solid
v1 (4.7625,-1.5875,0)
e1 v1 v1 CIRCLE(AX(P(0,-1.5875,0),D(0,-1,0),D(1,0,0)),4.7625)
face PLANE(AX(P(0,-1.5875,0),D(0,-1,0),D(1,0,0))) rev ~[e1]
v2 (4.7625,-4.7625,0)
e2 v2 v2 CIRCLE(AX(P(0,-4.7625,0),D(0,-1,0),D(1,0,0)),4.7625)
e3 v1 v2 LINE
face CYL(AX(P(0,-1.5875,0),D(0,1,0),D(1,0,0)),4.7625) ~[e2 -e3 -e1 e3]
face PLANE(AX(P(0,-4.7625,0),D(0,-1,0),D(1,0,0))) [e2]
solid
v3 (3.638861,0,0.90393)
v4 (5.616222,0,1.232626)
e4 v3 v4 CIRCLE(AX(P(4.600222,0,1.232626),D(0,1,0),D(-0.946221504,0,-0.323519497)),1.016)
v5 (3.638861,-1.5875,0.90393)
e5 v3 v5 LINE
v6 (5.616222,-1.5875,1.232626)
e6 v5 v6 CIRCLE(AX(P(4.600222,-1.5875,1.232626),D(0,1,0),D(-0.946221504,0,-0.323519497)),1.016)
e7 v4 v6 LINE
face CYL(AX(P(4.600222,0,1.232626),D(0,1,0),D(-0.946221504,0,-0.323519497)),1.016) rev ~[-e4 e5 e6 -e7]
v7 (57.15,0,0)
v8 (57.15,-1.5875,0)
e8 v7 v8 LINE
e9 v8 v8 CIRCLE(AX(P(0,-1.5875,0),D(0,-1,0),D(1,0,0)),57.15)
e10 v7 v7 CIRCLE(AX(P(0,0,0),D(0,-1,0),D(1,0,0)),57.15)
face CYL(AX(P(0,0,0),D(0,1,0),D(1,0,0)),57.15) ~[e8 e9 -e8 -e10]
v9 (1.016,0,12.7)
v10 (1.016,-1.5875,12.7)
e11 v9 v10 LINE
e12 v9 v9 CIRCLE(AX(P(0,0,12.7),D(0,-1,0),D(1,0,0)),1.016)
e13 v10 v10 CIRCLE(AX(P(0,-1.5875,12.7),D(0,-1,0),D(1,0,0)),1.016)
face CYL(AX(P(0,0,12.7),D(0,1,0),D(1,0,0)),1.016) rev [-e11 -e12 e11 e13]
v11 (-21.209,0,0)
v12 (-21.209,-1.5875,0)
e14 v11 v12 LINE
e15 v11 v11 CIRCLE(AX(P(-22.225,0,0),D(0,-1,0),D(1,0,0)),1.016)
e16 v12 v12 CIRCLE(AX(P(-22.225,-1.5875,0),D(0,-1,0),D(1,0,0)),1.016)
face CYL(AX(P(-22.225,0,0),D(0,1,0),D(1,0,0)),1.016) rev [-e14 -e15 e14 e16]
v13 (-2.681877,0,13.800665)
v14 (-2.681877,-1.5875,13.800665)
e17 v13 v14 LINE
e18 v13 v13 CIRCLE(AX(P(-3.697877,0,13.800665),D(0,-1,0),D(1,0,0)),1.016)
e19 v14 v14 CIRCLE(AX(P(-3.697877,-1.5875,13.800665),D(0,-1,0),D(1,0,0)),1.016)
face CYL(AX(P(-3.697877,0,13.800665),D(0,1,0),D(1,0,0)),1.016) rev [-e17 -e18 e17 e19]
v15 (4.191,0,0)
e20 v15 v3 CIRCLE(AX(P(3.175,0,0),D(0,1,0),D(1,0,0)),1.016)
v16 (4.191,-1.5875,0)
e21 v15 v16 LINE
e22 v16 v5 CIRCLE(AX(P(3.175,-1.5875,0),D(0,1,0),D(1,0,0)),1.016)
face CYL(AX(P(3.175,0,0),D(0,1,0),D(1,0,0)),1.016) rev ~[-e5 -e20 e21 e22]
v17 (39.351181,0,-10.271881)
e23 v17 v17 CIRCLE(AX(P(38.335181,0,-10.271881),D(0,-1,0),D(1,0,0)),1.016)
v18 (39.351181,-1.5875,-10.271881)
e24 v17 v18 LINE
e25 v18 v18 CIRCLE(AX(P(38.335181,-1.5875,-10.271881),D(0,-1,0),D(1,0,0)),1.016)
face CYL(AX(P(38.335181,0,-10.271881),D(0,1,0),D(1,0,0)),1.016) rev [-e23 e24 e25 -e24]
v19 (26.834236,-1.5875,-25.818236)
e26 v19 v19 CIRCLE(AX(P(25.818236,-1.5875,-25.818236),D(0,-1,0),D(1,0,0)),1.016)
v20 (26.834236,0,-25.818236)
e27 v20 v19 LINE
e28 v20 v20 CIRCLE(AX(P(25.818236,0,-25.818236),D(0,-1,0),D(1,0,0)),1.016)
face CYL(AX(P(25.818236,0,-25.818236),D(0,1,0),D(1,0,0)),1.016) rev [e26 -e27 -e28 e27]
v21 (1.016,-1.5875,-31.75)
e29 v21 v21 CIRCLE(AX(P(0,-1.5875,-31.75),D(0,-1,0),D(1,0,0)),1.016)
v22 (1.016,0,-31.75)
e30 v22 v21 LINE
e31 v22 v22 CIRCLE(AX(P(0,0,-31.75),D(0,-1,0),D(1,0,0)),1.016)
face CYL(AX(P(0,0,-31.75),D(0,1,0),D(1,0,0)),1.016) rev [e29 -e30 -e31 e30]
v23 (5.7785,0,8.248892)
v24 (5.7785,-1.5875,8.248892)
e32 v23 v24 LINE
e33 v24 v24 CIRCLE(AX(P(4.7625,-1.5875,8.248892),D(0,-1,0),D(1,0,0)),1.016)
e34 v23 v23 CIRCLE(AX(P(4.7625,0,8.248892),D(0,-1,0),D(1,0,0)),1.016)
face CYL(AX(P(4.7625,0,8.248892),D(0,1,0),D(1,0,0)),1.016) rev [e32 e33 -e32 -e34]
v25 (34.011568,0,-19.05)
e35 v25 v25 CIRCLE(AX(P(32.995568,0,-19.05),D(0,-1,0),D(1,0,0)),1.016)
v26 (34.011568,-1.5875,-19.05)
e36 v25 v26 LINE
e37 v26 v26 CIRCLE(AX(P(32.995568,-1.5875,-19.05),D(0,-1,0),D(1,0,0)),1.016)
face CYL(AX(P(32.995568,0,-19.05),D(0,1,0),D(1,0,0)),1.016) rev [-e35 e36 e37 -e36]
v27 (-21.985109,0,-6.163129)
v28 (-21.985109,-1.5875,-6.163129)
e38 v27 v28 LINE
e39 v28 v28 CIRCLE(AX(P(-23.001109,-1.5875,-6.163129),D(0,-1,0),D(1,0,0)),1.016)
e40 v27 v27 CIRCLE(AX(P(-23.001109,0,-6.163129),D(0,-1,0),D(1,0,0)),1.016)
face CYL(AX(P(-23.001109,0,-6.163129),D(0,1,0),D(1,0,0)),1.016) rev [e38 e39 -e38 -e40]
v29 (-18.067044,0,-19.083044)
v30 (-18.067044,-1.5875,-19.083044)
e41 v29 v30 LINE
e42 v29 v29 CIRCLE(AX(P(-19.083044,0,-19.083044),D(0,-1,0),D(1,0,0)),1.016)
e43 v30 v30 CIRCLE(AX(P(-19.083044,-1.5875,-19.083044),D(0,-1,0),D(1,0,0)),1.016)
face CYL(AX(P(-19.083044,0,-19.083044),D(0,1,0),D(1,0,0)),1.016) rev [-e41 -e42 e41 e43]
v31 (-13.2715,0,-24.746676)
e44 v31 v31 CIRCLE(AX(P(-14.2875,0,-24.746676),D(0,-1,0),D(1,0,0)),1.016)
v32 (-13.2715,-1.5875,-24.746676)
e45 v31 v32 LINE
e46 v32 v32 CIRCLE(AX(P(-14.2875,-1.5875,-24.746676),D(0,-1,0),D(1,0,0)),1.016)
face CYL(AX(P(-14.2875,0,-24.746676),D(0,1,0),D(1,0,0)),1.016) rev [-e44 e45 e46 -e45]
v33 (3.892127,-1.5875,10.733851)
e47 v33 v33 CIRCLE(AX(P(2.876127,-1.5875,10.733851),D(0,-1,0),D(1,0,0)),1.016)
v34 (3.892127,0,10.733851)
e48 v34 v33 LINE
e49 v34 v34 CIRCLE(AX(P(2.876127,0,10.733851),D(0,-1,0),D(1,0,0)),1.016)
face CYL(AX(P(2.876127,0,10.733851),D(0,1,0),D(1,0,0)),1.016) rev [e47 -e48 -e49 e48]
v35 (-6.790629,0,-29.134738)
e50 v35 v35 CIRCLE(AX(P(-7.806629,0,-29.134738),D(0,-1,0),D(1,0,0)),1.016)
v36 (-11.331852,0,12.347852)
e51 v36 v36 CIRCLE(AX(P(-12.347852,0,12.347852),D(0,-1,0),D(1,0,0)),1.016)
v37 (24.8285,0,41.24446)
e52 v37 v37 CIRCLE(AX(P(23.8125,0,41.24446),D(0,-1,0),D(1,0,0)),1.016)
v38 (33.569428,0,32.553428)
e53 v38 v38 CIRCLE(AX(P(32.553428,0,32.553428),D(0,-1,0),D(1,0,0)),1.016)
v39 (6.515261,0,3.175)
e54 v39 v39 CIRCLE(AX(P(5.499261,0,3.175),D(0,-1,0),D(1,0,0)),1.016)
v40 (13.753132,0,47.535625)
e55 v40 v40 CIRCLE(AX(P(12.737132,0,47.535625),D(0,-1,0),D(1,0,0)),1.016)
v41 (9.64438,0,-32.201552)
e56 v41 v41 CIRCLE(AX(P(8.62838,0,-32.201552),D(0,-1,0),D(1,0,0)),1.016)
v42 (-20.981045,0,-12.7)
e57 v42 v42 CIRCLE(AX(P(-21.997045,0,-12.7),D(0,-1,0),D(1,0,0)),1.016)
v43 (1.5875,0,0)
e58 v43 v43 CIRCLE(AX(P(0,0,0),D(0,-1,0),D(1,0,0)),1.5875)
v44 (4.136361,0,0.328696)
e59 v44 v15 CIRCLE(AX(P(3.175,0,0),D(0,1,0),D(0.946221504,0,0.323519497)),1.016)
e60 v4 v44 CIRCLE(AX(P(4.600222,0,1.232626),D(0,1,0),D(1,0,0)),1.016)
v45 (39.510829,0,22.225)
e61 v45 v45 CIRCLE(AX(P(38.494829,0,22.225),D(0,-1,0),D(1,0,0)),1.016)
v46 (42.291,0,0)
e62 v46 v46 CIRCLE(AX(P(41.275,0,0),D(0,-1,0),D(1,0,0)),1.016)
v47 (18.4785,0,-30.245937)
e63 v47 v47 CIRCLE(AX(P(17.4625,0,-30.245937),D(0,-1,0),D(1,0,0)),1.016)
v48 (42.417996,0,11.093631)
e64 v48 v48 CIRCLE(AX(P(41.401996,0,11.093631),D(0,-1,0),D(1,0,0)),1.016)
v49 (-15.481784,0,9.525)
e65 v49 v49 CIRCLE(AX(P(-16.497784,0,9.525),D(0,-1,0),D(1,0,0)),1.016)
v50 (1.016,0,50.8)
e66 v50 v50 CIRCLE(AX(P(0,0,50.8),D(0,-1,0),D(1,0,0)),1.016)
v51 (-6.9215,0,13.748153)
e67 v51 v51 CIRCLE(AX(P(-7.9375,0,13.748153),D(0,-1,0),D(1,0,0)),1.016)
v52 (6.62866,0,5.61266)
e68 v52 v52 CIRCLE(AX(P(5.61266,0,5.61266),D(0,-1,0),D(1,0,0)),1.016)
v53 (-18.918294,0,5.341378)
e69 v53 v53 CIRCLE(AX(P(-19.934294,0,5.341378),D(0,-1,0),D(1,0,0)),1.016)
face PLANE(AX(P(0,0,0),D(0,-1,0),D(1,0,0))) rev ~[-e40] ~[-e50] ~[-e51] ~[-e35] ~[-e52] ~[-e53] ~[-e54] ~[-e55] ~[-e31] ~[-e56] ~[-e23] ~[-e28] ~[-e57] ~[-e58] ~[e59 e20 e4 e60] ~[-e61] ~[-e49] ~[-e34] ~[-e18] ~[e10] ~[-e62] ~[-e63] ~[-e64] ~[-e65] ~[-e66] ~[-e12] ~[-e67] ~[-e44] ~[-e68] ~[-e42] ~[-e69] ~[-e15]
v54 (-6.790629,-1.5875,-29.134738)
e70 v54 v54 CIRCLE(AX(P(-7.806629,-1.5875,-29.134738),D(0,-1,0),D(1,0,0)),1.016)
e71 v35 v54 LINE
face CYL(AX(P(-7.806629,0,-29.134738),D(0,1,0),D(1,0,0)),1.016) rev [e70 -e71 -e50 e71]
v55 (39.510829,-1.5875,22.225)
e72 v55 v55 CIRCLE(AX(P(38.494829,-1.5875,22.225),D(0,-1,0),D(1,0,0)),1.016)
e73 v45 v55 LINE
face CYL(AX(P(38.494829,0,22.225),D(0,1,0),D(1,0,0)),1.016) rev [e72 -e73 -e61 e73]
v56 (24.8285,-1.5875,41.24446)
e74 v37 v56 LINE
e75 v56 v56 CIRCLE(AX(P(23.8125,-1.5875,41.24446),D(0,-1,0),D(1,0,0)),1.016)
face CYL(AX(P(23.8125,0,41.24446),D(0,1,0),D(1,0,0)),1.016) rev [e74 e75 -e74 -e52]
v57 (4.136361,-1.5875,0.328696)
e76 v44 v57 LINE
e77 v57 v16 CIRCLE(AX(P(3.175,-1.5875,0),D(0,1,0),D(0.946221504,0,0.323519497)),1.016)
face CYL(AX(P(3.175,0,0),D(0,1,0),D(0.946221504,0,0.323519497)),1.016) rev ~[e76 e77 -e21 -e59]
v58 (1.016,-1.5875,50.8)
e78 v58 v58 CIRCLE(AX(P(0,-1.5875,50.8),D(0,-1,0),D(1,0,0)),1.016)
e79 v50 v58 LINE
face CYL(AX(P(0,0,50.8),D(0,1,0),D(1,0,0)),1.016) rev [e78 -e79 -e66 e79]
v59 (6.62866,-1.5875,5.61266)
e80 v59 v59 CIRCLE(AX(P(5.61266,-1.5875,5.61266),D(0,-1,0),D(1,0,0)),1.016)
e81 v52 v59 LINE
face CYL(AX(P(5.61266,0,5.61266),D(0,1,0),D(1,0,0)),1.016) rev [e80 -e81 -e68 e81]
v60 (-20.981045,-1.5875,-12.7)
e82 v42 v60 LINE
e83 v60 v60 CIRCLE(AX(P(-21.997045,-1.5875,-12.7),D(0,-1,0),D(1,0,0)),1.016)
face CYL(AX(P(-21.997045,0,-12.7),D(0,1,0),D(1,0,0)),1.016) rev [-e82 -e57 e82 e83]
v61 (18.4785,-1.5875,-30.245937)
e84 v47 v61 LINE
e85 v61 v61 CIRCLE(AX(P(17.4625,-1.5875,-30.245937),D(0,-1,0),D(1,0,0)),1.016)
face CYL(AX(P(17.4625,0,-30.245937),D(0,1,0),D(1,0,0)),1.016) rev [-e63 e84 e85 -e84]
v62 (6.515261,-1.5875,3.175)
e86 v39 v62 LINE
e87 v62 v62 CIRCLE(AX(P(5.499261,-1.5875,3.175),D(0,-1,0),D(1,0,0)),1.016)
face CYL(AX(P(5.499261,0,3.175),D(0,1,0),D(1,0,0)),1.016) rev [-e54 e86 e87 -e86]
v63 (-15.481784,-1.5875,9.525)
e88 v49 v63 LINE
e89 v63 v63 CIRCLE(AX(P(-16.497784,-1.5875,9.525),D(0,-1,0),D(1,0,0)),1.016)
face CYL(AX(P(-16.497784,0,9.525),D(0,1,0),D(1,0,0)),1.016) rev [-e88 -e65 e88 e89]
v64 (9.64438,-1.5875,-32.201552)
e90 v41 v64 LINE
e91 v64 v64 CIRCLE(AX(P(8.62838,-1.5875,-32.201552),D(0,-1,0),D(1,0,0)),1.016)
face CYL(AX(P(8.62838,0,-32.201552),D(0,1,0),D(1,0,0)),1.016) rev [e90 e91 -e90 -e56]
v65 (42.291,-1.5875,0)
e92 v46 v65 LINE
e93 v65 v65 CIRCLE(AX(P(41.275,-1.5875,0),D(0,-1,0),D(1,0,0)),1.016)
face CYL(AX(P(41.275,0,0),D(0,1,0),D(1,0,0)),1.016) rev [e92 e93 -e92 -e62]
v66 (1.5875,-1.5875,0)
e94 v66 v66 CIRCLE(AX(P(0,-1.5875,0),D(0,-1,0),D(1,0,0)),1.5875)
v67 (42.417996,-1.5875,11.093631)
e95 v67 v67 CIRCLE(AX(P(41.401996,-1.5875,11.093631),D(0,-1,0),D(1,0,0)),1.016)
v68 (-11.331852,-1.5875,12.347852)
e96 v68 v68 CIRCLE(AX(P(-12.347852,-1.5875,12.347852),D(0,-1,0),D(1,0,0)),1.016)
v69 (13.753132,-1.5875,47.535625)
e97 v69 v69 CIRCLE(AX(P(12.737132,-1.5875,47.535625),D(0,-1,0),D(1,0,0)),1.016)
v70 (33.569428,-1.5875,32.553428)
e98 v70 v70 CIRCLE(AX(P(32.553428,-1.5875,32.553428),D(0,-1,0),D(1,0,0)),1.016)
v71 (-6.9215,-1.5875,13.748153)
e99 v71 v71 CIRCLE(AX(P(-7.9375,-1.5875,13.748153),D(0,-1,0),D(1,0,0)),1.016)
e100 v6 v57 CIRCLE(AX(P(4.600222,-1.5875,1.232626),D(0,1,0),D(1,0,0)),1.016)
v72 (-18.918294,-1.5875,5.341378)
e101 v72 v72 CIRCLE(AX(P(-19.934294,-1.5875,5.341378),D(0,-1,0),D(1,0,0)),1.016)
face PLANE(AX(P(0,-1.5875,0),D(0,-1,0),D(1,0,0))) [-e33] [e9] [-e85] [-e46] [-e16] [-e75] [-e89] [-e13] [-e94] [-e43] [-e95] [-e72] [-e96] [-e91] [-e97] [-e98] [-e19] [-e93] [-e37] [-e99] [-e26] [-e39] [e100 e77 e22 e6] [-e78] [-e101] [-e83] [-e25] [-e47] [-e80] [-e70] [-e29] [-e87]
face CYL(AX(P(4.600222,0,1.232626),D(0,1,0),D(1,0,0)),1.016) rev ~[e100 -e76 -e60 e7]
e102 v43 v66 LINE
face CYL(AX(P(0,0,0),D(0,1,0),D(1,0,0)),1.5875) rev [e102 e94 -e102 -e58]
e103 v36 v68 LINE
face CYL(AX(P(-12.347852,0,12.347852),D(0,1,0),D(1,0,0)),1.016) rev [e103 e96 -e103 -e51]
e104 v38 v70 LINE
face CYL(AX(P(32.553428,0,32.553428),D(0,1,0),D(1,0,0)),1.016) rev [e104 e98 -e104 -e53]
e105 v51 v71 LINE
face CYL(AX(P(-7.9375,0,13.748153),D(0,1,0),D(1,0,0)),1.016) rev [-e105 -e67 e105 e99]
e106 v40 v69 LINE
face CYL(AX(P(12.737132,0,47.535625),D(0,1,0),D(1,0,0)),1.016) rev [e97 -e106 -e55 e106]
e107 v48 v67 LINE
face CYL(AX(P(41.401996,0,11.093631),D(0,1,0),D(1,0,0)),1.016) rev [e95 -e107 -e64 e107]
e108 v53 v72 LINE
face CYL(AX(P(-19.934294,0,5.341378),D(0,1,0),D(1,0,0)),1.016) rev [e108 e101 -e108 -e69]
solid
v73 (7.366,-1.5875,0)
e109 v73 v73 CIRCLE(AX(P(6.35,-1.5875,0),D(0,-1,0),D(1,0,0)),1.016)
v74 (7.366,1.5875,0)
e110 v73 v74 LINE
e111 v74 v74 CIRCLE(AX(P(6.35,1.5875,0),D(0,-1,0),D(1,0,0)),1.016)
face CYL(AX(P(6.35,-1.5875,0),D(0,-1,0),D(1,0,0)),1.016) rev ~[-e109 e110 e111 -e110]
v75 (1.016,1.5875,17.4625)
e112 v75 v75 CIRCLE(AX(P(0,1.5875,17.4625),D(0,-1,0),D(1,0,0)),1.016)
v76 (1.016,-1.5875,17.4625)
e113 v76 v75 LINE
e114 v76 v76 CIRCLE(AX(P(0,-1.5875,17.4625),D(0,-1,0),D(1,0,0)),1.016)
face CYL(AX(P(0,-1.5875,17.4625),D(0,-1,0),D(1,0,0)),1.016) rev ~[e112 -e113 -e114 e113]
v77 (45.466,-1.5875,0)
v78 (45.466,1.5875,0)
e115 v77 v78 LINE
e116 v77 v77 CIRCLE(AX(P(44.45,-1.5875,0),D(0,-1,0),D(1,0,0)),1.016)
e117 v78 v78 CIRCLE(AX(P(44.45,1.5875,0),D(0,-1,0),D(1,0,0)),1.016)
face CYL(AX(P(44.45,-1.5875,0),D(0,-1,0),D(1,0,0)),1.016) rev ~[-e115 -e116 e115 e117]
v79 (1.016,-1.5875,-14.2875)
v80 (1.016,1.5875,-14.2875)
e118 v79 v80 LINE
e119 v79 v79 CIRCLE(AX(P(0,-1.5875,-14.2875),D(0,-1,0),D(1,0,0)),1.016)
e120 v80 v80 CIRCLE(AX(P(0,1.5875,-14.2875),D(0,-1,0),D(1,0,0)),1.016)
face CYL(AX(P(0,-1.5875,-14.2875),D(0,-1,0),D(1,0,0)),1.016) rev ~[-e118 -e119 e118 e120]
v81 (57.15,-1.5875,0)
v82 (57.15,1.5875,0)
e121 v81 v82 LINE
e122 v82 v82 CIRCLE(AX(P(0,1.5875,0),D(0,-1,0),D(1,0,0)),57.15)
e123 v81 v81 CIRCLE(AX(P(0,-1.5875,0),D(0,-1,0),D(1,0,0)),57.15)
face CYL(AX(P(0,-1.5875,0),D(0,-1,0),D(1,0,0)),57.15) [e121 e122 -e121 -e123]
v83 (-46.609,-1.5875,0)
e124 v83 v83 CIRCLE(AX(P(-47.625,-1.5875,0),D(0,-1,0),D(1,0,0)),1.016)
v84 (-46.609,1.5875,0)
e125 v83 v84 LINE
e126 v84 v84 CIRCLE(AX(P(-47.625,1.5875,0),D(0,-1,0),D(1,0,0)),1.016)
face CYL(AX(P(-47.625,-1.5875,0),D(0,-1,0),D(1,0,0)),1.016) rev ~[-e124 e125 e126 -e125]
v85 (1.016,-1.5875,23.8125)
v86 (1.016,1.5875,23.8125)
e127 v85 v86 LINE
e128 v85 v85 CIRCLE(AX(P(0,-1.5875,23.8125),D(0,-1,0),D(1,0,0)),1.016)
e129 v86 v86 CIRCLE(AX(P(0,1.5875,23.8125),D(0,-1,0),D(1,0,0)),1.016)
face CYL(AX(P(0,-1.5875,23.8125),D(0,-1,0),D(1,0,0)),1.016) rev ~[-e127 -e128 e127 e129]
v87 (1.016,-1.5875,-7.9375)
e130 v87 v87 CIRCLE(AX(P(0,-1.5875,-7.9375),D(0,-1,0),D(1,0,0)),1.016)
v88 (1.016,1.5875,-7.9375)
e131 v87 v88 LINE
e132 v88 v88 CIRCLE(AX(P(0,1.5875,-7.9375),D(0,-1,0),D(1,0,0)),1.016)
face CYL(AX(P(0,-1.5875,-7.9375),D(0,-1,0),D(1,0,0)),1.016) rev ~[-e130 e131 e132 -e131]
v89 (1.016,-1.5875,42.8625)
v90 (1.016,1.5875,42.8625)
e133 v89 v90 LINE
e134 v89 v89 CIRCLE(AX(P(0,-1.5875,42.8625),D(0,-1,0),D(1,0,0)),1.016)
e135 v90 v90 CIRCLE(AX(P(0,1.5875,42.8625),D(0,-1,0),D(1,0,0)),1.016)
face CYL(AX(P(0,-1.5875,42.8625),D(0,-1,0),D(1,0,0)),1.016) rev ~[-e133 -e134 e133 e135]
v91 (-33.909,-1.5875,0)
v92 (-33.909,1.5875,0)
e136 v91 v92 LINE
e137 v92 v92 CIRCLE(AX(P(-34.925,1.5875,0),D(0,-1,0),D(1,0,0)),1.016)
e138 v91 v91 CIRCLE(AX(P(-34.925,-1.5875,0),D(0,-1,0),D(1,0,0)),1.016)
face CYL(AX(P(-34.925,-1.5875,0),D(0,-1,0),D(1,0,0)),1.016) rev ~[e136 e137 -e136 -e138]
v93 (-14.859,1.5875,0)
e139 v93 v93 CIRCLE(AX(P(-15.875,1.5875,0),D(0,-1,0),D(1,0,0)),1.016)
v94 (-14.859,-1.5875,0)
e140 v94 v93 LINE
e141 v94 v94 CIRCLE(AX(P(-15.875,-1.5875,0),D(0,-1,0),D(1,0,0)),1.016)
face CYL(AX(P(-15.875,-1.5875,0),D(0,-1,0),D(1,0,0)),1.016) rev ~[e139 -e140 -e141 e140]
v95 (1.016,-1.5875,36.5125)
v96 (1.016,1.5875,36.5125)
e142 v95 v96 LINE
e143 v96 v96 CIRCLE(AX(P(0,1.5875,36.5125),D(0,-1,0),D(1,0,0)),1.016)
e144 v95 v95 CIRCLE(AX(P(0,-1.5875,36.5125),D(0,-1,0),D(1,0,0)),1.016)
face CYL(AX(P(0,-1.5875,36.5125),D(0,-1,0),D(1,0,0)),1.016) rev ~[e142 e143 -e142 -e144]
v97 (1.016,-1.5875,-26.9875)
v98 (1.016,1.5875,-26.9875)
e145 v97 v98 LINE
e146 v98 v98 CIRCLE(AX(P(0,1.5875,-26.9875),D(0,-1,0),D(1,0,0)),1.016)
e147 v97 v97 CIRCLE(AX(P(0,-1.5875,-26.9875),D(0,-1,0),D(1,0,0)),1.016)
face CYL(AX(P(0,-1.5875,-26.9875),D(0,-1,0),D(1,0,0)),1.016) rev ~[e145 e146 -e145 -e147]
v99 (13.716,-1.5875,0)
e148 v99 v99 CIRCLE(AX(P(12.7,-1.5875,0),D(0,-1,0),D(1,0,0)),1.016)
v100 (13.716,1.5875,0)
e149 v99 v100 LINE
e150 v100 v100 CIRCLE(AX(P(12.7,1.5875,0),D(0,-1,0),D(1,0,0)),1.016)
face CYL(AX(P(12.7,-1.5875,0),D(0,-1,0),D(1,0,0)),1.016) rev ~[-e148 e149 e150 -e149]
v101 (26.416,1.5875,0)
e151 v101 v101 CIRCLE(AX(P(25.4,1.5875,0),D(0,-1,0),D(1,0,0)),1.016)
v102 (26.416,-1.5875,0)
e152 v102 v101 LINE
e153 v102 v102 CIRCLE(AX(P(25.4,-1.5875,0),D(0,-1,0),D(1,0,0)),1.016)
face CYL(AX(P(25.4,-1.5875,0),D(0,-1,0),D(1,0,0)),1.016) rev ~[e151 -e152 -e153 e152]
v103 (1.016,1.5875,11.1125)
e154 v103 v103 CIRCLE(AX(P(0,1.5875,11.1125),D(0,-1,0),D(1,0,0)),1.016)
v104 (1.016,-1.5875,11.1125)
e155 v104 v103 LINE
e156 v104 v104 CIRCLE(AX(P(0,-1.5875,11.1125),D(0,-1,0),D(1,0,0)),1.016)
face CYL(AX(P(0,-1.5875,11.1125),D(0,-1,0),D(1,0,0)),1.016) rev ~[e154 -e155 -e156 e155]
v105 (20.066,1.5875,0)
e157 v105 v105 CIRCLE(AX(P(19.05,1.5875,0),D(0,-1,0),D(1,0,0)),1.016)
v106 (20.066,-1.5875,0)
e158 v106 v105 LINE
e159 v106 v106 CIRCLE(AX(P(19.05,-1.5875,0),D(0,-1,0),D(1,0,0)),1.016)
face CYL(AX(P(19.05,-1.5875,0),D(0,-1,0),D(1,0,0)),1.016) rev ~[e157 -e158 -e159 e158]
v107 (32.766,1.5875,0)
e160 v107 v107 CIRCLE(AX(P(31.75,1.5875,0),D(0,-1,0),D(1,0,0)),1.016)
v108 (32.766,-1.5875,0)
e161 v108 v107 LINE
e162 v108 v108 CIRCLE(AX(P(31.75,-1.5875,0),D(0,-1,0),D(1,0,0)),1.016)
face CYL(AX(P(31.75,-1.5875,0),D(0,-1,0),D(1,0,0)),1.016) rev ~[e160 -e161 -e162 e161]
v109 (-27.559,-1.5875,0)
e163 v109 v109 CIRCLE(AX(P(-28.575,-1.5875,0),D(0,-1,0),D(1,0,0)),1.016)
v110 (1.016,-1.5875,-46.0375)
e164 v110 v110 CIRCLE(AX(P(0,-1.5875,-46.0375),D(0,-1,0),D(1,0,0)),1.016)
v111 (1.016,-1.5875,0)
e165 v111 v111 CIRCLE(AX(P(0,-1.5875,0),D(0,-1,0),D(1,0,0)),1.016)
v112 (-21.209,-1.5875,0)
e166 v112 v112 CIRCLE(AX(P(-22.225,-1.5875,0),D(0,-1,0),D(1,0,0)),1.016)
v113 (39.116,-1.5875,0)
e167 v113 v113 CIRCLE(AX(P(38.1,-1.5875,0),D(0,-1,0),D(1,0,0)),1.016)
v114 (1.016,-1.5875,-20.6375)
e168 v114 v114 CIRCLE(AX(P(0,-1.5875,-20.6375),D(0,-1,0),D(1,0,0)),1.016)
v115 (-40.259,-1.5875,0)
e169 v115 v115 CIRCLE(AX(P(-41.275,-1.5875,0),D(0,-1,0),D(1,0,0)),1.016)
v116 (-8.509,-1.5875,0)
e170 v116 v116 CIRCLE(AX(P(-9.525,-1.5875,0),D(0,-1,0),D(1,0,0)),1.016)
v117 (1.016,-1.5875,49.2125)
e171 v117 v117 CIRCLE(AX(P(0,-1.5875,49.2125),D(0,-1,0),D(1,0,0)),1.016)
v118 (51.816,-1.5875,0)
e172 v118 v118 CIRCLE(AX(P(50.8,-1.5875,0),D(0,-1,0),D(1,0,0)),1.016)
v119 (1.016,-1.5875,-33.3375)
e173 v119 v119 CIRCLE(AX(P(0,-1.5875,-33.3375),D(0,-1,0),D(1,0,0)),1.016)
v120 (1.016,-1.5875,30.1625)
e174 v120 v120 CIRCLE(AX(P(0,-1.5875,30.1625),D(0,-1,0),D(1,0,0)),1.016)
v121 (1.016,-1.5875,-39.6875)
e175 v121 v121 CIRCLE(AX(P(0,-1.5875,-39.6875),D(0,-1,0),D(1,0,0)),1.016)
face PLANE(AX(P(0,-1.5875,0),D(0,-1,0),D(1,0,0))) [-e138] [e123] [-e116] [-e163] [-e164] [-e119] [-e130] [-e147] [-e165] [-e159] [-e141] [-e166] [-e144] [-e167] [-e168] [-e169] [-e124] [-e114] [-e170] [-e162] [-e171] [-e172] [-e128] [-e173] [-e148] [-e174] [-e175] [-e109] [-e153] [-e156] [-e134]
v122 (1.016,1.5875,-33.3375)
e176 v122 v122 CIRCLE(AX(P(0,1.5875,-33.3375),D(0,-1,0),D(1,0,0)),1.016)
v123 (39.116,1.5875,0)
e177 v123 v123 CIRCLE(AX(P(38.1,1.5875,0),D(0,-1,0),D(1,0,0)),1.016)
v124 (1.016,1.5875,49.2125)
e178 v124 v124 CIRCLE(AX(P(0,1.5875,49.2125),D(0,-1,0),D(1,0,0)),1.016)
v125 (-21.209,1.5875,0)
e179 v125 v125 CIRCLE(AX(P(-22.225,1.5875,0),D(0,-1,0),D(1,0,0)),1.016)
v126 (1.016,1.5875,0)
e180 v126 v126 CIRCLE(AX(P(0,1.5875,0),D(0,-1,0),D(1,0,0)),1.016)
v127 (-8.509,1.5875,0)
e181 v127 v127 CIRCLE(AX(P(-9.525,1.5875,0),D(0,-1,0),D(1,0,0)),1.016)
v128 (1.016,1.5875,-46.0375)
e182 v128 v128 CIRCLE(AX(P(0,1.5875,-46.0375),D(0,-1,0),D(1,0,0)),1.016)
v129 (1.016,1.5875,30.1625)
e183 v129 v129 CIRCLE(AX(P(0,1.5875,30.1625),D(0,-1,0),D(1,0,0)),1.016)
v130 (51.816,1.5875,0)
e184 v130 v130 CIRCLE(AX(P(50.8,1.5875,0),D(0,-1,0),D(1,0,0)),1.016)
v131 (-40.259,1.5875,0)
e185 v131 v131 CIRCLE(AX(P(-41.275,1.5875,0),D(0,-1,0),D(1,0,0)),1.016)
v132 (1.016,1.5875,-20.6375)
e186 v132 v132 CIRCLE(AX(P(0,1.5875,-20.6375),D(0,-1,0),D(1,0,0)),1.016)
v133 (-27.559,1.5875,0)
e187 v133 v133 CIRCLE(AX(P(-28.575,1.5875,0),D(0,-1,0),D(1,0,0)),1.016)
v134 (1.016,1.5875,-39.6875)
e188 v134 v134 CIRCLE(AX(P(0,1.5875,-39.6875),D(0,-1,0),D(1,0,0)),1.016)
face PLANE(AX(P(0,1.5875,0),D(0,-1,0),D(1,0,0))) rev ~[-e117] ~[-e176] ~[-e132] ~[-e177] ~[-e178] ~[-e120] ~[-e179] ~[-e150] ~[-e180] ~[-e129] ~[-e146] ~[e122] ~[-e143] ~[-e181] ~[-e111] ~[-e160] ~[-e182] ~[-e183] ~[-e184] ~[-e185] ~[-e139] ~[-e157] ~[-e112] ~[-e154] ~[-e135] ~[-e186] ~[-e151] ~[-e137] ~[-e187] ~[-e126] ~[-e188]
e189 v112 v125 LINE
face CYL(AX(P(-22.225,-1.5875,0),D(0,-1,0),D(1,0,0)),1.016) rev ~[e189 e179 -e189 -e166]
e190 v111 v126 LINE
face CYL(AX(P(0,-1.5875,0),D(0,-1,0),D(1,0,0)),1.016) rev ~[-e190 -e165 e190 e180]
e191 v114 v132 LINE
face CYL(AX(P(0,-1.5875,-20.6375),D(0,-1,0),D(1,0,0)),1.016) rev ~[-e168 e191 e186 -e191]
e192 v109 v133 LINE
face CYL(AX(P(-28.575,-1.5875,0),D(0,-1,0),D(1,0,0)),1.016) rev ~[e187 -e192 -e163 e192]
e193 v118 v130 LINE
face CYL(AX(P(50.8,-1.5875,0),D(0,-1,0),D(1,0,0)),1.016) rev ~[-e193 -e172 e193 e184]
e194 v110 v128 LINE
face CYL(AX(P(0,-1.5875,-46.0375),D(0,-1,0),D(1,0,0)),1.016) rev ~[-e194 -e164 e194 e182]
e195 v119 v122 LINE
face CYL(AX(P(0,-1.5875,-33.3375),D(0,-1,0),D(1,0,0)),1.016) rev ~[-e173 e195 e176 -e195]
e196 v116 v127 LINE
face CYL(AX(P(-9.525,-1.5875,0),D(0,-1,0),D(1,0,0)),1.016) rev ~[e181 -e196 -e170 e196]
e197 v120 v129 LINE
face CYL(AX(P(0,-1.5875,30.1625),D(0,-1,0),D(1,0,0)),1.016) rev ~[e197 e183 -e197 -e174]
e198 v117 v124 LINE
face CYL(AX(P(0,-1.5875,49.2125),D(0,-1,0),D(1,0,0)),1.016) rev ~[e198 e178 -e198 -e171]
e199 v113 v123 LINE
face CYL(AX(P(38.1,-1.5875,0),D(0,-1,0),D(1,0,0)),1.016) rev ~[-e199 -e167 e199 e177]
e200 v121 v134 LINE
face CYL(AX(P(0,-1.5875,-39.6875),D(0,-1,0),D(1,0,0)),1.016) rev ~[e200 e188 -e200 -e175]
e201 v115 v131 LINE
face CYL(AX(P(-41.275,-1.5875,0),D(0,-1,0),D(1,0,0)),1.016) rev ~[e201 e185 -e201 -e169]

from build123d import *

# Parameters (mm, degrees)
F0_R      = 57.15
F0_R_2    = 1.016
F0_R_3    = 1.5875
F1_DEPTH  = 1.5875
F3_R      = 4.7625
F4_DEPTH  = 3.175
F5_R      = 57.15
F5_R_2    = 1.016
F6_DEPTH  = 3.175
F7_R      = 1.016
F8_DEPTH  = 3.176
F9_R      = 1.016
F10_DEPTH = 3.175
F11_R     = 1.016
F12_DEPTH = 3.176


with BuildPart() as f1:
    # F0 (on Front) → F1 (new body)
    with BuildSketch(Plane.XZ):
        Circle(F0_R)
        with Locations((-7.8066294479, -29.1347377354)):
            Circle(F0_R_2, mode=Mode.SUBTRACT)
        with Locations((-19.0830442573, -19.0830442573)):
            Circle(F0_R_2, mode=Mode.SUBTRACT)
        with Locations((-14.2875, -24.7466759131)):
            Circle(F0_R_2, mode=Mode.SUBTRACT)
        with Locations((-21.9970452561, -12.7)):
            Circle(F0_R_2, mode=Mode.SUBTRACT)
        with Locations((-23.0011087385, -6.1631285115)):
            Circle(F0_R_2, mode=Mode.SUBTRACT)
        with Locations((0, -31.75)):
            Circle(F0_R_2, mode=Mode.SUBTRACT)
        with Locations((8.6283799161, -32.2015522339)):
            Circle(F0_R_2, mode=Mode.SUBTRACT)
        with Locations((17.4625, -30.2459372272)):
            Circle(F0_R_2, mode=Mode.SUBTRACT)
        with Locations((25.8182363481, -25.8182363481)):
            Circle(F0_R_2, mode=Mode.SUBTRACT)
        with Locations((32.9955678842, -19.05)):
            Circle(F0_R_2, mode=Mode.SUBTRACT)
        with Locations((38.3351812308, -10.2718808525)):
            Circle(F0_R_2, mode=Mode.SUBTRACT)
        with Locations((-22.225, 0)):
            Circle(F0_R_2, mode=Mode.SUBTRACT)
        with Locations((-19.93429424, 5.3413780433)):
            Circle(F0_R_2, mode=Mode.SUBTRACT)
        with Locations((-16.4977839421, 9.525)):
            Circle(F0_R_2, mode=Mode.SUBTRACT)
        with Locations((-12.3478521665, 12.3478521665)):
            Circle(F0_R_2, mode=Mode.SUBTRACT)
        with Locations((-7.9375, 13.7481532851)):
            Circle(F0_R_2, mode=Mode.SUBTRACT)
        with Locations((-3.6978771069, 13.8006652431)):
            Circle(F0_R_2, mode=Mode.SUBTRACT)
        Circle(F0_R_3, mode=Mode.SUBTRACT)
        with BuildLine():
            ThreePointArc((4.1363610482, 0.3286958093), (4.1772471813, 0.1666030838), (4.191, 0))
            ThreePointArc((4.191, 0), (2.3079537294, -0.5296100118), (3.6388606995, 0.903929893))
            ThreePointArc((3.6388606995, 0.903929893), (4.4336186639, 2.2348728836), (5.6162217477, 1.2326257023))
            ThreePointArc((5.6162217477, 1.2326257023), (5.1298317595, 0.3655794317), (4.1363610482, 0.3286958093))
        make_face(mode=Mode.SUBTRACT)
        with Locations((5.499261314, 3.175)):
            Circle(F0_R_2, mode=Mode.SUBTRACT)
        with Locations((5.6126600757, 5.6126600757)):
            Circle(F0_R_2, mode=Mode.SUBTRACT)
        with Locations((4.7625, 8.248891971)):
            Circle(F0_R_2, mode=Mode.SUBTRACT)
        with Locations((2.8761266387, 10.7338507446)):
            Circle(F0_R_2, mode=Mode.SUBTRACT)
        with Locations((0, 12.7)):
            Circle(F0_R_2, mode=Mode.SUBTRACT)
        with Locations((41.275, 0)):
            Circle(F0_R_2, mode=Mode.SUBTRACT)
        with Locations((41.4019957293, 11.0936313207)):
            Circle(F0_R_2, mode=Mode.SUBTRACT)
        with Locations((38.4948291982, 22.225)):
            Circle(F0_R_2, mode=Mode.SUBTRACT)
        with Locations((23.8125, 41.2444598552)):
            Circle(F0_R_2, mode=Mode.SUBTRACT)
        with Locations((12.7371322571, 47.5356247263)):
            Circle(F0_R_2, mode=Mode.SUBTRACT)
        with Locations((0, 50.8)):
            Circle(F0_R_2, mode=Mode.SUBTRACT)
        with Locations((32.5534284389, 32.5534284389)):
            Circle(F0_R_2, mode=Mode.SUBTRACT)
    extrude(amount=F1_DEPTH)


with BuildPart() as f4:
    # F3 (on face) → F4 (new body)
    with BuildSketch(Plane.XZ.offset(1.5875)):
        Circle(F3_R)
    extrude(amount=F4_DEPTH)


with BuildPart() as f6:
    # F5 (on face) → F6 (new body)
    with BuildSketch(Plane.XZ.offset(1.5875)):
        Circle(F5_R)
        with Locations((6.35, 0)):
            Circle(F5_R_2, mode=Mode.SUBTRACT)
        with Locations((12.7, 0)):
            Circle(F5_R_2, mode=Mode.SUBTRACT)
        with Locations((19.05, 0)):
            Circle(F5_R_2, mode=Mode.SUBTRACT)
        with Locations((25.4, 0)):
            Circle(F5_R_2, mode=Mode.SUBTRACT)
        with Locations((31.75, 0)):
            Circle(F5_R_2, mode=Mode.SUBTRACT)
        with Locations((38.1, 0)):
            Circle(F5_R_2, mode=Mode.SUBTRACT)
        with Locations((44.45, 0)):
            Circle(F5_R_2, mode=Mode.SUBTRACT)
        with Locations((50.8, 0)):
            Circle(F5_R_2, mode=Mode.SUBTRACT)
    extrude(amount=-F6_DEPTH)

    # F7 (on face) → F8 (cut, through all)
    with BuildSketch(Plane.XZ.offset(1.5875)):
        with Locations((0, -33.3375)):
            Circle(F7_R)
        with Locations((0, -26.9875)):
            Circle(F7_R)
        with Locations((0, -14.2875)):
            Circle(F7_R)
        with Locations((0, -20.6375)):
            Circle(F7_R)
        with Locations((0, -39.6875)):
            Circle(F7_R)
        with Locations((0, -46.0375)):
            Circle(F7_R)
        with Locations((0, -7.9375)):
            Circle(F7_R)
    extrude(amount=-F8_DEPTH, mode=Mode.SUBTRACT)

    # F9 (on face) → F10 (cut, through all)
    with BuildSketch(Plane.XZ.offset(1.5875)):
        with Locations((-9.525, 0)):
            Circle(F9_R)
        with Locations((0, 11.1125)):
            Circle(F9_R)
        with Locations((-15.875, 0)):
            Circle(F9_R)
        with Locations((-22.225, 0)):
            Circle(F9_R)
        with Locations((-28.575, 0)):
            Circle(F9_R)
        with Locations((-34.925, 0)):
            Circle(F9_R)
        with Locations((-41.275, 0)):
            Circle(F9_R)
        with Locations((-47.625, 0)):
            Circle(F9_R)
        with Locations((0, 17.4625)):
            Circle(F9_R)
        with Locations((0, 23.8125)):
            Circle(F9_R)
        with Locations((0, 30.1625)):
            Circle(F9_R)
        with Locations((0, 36.5125)):
            Circle(F9_R)
        with Locations((0, 42.8625)):
            Circle(F9_R)
        with Locations((0, 49.2125)):
            Circle(F9_R)
    extrude(amount=-F10_DEPTH, mode=Mode.SUBTRACT)

    # F11 (on face) → F12 (cut, through all)
    with BuildSketch(Plane.XZ.offset(1.5875)):
        Circle(F11_R)
    extrude(amount=-F12_DEPTH, mode=Mode.SUBTRACT)


solid = Compound([f1.part, f4.part, f6.part])
